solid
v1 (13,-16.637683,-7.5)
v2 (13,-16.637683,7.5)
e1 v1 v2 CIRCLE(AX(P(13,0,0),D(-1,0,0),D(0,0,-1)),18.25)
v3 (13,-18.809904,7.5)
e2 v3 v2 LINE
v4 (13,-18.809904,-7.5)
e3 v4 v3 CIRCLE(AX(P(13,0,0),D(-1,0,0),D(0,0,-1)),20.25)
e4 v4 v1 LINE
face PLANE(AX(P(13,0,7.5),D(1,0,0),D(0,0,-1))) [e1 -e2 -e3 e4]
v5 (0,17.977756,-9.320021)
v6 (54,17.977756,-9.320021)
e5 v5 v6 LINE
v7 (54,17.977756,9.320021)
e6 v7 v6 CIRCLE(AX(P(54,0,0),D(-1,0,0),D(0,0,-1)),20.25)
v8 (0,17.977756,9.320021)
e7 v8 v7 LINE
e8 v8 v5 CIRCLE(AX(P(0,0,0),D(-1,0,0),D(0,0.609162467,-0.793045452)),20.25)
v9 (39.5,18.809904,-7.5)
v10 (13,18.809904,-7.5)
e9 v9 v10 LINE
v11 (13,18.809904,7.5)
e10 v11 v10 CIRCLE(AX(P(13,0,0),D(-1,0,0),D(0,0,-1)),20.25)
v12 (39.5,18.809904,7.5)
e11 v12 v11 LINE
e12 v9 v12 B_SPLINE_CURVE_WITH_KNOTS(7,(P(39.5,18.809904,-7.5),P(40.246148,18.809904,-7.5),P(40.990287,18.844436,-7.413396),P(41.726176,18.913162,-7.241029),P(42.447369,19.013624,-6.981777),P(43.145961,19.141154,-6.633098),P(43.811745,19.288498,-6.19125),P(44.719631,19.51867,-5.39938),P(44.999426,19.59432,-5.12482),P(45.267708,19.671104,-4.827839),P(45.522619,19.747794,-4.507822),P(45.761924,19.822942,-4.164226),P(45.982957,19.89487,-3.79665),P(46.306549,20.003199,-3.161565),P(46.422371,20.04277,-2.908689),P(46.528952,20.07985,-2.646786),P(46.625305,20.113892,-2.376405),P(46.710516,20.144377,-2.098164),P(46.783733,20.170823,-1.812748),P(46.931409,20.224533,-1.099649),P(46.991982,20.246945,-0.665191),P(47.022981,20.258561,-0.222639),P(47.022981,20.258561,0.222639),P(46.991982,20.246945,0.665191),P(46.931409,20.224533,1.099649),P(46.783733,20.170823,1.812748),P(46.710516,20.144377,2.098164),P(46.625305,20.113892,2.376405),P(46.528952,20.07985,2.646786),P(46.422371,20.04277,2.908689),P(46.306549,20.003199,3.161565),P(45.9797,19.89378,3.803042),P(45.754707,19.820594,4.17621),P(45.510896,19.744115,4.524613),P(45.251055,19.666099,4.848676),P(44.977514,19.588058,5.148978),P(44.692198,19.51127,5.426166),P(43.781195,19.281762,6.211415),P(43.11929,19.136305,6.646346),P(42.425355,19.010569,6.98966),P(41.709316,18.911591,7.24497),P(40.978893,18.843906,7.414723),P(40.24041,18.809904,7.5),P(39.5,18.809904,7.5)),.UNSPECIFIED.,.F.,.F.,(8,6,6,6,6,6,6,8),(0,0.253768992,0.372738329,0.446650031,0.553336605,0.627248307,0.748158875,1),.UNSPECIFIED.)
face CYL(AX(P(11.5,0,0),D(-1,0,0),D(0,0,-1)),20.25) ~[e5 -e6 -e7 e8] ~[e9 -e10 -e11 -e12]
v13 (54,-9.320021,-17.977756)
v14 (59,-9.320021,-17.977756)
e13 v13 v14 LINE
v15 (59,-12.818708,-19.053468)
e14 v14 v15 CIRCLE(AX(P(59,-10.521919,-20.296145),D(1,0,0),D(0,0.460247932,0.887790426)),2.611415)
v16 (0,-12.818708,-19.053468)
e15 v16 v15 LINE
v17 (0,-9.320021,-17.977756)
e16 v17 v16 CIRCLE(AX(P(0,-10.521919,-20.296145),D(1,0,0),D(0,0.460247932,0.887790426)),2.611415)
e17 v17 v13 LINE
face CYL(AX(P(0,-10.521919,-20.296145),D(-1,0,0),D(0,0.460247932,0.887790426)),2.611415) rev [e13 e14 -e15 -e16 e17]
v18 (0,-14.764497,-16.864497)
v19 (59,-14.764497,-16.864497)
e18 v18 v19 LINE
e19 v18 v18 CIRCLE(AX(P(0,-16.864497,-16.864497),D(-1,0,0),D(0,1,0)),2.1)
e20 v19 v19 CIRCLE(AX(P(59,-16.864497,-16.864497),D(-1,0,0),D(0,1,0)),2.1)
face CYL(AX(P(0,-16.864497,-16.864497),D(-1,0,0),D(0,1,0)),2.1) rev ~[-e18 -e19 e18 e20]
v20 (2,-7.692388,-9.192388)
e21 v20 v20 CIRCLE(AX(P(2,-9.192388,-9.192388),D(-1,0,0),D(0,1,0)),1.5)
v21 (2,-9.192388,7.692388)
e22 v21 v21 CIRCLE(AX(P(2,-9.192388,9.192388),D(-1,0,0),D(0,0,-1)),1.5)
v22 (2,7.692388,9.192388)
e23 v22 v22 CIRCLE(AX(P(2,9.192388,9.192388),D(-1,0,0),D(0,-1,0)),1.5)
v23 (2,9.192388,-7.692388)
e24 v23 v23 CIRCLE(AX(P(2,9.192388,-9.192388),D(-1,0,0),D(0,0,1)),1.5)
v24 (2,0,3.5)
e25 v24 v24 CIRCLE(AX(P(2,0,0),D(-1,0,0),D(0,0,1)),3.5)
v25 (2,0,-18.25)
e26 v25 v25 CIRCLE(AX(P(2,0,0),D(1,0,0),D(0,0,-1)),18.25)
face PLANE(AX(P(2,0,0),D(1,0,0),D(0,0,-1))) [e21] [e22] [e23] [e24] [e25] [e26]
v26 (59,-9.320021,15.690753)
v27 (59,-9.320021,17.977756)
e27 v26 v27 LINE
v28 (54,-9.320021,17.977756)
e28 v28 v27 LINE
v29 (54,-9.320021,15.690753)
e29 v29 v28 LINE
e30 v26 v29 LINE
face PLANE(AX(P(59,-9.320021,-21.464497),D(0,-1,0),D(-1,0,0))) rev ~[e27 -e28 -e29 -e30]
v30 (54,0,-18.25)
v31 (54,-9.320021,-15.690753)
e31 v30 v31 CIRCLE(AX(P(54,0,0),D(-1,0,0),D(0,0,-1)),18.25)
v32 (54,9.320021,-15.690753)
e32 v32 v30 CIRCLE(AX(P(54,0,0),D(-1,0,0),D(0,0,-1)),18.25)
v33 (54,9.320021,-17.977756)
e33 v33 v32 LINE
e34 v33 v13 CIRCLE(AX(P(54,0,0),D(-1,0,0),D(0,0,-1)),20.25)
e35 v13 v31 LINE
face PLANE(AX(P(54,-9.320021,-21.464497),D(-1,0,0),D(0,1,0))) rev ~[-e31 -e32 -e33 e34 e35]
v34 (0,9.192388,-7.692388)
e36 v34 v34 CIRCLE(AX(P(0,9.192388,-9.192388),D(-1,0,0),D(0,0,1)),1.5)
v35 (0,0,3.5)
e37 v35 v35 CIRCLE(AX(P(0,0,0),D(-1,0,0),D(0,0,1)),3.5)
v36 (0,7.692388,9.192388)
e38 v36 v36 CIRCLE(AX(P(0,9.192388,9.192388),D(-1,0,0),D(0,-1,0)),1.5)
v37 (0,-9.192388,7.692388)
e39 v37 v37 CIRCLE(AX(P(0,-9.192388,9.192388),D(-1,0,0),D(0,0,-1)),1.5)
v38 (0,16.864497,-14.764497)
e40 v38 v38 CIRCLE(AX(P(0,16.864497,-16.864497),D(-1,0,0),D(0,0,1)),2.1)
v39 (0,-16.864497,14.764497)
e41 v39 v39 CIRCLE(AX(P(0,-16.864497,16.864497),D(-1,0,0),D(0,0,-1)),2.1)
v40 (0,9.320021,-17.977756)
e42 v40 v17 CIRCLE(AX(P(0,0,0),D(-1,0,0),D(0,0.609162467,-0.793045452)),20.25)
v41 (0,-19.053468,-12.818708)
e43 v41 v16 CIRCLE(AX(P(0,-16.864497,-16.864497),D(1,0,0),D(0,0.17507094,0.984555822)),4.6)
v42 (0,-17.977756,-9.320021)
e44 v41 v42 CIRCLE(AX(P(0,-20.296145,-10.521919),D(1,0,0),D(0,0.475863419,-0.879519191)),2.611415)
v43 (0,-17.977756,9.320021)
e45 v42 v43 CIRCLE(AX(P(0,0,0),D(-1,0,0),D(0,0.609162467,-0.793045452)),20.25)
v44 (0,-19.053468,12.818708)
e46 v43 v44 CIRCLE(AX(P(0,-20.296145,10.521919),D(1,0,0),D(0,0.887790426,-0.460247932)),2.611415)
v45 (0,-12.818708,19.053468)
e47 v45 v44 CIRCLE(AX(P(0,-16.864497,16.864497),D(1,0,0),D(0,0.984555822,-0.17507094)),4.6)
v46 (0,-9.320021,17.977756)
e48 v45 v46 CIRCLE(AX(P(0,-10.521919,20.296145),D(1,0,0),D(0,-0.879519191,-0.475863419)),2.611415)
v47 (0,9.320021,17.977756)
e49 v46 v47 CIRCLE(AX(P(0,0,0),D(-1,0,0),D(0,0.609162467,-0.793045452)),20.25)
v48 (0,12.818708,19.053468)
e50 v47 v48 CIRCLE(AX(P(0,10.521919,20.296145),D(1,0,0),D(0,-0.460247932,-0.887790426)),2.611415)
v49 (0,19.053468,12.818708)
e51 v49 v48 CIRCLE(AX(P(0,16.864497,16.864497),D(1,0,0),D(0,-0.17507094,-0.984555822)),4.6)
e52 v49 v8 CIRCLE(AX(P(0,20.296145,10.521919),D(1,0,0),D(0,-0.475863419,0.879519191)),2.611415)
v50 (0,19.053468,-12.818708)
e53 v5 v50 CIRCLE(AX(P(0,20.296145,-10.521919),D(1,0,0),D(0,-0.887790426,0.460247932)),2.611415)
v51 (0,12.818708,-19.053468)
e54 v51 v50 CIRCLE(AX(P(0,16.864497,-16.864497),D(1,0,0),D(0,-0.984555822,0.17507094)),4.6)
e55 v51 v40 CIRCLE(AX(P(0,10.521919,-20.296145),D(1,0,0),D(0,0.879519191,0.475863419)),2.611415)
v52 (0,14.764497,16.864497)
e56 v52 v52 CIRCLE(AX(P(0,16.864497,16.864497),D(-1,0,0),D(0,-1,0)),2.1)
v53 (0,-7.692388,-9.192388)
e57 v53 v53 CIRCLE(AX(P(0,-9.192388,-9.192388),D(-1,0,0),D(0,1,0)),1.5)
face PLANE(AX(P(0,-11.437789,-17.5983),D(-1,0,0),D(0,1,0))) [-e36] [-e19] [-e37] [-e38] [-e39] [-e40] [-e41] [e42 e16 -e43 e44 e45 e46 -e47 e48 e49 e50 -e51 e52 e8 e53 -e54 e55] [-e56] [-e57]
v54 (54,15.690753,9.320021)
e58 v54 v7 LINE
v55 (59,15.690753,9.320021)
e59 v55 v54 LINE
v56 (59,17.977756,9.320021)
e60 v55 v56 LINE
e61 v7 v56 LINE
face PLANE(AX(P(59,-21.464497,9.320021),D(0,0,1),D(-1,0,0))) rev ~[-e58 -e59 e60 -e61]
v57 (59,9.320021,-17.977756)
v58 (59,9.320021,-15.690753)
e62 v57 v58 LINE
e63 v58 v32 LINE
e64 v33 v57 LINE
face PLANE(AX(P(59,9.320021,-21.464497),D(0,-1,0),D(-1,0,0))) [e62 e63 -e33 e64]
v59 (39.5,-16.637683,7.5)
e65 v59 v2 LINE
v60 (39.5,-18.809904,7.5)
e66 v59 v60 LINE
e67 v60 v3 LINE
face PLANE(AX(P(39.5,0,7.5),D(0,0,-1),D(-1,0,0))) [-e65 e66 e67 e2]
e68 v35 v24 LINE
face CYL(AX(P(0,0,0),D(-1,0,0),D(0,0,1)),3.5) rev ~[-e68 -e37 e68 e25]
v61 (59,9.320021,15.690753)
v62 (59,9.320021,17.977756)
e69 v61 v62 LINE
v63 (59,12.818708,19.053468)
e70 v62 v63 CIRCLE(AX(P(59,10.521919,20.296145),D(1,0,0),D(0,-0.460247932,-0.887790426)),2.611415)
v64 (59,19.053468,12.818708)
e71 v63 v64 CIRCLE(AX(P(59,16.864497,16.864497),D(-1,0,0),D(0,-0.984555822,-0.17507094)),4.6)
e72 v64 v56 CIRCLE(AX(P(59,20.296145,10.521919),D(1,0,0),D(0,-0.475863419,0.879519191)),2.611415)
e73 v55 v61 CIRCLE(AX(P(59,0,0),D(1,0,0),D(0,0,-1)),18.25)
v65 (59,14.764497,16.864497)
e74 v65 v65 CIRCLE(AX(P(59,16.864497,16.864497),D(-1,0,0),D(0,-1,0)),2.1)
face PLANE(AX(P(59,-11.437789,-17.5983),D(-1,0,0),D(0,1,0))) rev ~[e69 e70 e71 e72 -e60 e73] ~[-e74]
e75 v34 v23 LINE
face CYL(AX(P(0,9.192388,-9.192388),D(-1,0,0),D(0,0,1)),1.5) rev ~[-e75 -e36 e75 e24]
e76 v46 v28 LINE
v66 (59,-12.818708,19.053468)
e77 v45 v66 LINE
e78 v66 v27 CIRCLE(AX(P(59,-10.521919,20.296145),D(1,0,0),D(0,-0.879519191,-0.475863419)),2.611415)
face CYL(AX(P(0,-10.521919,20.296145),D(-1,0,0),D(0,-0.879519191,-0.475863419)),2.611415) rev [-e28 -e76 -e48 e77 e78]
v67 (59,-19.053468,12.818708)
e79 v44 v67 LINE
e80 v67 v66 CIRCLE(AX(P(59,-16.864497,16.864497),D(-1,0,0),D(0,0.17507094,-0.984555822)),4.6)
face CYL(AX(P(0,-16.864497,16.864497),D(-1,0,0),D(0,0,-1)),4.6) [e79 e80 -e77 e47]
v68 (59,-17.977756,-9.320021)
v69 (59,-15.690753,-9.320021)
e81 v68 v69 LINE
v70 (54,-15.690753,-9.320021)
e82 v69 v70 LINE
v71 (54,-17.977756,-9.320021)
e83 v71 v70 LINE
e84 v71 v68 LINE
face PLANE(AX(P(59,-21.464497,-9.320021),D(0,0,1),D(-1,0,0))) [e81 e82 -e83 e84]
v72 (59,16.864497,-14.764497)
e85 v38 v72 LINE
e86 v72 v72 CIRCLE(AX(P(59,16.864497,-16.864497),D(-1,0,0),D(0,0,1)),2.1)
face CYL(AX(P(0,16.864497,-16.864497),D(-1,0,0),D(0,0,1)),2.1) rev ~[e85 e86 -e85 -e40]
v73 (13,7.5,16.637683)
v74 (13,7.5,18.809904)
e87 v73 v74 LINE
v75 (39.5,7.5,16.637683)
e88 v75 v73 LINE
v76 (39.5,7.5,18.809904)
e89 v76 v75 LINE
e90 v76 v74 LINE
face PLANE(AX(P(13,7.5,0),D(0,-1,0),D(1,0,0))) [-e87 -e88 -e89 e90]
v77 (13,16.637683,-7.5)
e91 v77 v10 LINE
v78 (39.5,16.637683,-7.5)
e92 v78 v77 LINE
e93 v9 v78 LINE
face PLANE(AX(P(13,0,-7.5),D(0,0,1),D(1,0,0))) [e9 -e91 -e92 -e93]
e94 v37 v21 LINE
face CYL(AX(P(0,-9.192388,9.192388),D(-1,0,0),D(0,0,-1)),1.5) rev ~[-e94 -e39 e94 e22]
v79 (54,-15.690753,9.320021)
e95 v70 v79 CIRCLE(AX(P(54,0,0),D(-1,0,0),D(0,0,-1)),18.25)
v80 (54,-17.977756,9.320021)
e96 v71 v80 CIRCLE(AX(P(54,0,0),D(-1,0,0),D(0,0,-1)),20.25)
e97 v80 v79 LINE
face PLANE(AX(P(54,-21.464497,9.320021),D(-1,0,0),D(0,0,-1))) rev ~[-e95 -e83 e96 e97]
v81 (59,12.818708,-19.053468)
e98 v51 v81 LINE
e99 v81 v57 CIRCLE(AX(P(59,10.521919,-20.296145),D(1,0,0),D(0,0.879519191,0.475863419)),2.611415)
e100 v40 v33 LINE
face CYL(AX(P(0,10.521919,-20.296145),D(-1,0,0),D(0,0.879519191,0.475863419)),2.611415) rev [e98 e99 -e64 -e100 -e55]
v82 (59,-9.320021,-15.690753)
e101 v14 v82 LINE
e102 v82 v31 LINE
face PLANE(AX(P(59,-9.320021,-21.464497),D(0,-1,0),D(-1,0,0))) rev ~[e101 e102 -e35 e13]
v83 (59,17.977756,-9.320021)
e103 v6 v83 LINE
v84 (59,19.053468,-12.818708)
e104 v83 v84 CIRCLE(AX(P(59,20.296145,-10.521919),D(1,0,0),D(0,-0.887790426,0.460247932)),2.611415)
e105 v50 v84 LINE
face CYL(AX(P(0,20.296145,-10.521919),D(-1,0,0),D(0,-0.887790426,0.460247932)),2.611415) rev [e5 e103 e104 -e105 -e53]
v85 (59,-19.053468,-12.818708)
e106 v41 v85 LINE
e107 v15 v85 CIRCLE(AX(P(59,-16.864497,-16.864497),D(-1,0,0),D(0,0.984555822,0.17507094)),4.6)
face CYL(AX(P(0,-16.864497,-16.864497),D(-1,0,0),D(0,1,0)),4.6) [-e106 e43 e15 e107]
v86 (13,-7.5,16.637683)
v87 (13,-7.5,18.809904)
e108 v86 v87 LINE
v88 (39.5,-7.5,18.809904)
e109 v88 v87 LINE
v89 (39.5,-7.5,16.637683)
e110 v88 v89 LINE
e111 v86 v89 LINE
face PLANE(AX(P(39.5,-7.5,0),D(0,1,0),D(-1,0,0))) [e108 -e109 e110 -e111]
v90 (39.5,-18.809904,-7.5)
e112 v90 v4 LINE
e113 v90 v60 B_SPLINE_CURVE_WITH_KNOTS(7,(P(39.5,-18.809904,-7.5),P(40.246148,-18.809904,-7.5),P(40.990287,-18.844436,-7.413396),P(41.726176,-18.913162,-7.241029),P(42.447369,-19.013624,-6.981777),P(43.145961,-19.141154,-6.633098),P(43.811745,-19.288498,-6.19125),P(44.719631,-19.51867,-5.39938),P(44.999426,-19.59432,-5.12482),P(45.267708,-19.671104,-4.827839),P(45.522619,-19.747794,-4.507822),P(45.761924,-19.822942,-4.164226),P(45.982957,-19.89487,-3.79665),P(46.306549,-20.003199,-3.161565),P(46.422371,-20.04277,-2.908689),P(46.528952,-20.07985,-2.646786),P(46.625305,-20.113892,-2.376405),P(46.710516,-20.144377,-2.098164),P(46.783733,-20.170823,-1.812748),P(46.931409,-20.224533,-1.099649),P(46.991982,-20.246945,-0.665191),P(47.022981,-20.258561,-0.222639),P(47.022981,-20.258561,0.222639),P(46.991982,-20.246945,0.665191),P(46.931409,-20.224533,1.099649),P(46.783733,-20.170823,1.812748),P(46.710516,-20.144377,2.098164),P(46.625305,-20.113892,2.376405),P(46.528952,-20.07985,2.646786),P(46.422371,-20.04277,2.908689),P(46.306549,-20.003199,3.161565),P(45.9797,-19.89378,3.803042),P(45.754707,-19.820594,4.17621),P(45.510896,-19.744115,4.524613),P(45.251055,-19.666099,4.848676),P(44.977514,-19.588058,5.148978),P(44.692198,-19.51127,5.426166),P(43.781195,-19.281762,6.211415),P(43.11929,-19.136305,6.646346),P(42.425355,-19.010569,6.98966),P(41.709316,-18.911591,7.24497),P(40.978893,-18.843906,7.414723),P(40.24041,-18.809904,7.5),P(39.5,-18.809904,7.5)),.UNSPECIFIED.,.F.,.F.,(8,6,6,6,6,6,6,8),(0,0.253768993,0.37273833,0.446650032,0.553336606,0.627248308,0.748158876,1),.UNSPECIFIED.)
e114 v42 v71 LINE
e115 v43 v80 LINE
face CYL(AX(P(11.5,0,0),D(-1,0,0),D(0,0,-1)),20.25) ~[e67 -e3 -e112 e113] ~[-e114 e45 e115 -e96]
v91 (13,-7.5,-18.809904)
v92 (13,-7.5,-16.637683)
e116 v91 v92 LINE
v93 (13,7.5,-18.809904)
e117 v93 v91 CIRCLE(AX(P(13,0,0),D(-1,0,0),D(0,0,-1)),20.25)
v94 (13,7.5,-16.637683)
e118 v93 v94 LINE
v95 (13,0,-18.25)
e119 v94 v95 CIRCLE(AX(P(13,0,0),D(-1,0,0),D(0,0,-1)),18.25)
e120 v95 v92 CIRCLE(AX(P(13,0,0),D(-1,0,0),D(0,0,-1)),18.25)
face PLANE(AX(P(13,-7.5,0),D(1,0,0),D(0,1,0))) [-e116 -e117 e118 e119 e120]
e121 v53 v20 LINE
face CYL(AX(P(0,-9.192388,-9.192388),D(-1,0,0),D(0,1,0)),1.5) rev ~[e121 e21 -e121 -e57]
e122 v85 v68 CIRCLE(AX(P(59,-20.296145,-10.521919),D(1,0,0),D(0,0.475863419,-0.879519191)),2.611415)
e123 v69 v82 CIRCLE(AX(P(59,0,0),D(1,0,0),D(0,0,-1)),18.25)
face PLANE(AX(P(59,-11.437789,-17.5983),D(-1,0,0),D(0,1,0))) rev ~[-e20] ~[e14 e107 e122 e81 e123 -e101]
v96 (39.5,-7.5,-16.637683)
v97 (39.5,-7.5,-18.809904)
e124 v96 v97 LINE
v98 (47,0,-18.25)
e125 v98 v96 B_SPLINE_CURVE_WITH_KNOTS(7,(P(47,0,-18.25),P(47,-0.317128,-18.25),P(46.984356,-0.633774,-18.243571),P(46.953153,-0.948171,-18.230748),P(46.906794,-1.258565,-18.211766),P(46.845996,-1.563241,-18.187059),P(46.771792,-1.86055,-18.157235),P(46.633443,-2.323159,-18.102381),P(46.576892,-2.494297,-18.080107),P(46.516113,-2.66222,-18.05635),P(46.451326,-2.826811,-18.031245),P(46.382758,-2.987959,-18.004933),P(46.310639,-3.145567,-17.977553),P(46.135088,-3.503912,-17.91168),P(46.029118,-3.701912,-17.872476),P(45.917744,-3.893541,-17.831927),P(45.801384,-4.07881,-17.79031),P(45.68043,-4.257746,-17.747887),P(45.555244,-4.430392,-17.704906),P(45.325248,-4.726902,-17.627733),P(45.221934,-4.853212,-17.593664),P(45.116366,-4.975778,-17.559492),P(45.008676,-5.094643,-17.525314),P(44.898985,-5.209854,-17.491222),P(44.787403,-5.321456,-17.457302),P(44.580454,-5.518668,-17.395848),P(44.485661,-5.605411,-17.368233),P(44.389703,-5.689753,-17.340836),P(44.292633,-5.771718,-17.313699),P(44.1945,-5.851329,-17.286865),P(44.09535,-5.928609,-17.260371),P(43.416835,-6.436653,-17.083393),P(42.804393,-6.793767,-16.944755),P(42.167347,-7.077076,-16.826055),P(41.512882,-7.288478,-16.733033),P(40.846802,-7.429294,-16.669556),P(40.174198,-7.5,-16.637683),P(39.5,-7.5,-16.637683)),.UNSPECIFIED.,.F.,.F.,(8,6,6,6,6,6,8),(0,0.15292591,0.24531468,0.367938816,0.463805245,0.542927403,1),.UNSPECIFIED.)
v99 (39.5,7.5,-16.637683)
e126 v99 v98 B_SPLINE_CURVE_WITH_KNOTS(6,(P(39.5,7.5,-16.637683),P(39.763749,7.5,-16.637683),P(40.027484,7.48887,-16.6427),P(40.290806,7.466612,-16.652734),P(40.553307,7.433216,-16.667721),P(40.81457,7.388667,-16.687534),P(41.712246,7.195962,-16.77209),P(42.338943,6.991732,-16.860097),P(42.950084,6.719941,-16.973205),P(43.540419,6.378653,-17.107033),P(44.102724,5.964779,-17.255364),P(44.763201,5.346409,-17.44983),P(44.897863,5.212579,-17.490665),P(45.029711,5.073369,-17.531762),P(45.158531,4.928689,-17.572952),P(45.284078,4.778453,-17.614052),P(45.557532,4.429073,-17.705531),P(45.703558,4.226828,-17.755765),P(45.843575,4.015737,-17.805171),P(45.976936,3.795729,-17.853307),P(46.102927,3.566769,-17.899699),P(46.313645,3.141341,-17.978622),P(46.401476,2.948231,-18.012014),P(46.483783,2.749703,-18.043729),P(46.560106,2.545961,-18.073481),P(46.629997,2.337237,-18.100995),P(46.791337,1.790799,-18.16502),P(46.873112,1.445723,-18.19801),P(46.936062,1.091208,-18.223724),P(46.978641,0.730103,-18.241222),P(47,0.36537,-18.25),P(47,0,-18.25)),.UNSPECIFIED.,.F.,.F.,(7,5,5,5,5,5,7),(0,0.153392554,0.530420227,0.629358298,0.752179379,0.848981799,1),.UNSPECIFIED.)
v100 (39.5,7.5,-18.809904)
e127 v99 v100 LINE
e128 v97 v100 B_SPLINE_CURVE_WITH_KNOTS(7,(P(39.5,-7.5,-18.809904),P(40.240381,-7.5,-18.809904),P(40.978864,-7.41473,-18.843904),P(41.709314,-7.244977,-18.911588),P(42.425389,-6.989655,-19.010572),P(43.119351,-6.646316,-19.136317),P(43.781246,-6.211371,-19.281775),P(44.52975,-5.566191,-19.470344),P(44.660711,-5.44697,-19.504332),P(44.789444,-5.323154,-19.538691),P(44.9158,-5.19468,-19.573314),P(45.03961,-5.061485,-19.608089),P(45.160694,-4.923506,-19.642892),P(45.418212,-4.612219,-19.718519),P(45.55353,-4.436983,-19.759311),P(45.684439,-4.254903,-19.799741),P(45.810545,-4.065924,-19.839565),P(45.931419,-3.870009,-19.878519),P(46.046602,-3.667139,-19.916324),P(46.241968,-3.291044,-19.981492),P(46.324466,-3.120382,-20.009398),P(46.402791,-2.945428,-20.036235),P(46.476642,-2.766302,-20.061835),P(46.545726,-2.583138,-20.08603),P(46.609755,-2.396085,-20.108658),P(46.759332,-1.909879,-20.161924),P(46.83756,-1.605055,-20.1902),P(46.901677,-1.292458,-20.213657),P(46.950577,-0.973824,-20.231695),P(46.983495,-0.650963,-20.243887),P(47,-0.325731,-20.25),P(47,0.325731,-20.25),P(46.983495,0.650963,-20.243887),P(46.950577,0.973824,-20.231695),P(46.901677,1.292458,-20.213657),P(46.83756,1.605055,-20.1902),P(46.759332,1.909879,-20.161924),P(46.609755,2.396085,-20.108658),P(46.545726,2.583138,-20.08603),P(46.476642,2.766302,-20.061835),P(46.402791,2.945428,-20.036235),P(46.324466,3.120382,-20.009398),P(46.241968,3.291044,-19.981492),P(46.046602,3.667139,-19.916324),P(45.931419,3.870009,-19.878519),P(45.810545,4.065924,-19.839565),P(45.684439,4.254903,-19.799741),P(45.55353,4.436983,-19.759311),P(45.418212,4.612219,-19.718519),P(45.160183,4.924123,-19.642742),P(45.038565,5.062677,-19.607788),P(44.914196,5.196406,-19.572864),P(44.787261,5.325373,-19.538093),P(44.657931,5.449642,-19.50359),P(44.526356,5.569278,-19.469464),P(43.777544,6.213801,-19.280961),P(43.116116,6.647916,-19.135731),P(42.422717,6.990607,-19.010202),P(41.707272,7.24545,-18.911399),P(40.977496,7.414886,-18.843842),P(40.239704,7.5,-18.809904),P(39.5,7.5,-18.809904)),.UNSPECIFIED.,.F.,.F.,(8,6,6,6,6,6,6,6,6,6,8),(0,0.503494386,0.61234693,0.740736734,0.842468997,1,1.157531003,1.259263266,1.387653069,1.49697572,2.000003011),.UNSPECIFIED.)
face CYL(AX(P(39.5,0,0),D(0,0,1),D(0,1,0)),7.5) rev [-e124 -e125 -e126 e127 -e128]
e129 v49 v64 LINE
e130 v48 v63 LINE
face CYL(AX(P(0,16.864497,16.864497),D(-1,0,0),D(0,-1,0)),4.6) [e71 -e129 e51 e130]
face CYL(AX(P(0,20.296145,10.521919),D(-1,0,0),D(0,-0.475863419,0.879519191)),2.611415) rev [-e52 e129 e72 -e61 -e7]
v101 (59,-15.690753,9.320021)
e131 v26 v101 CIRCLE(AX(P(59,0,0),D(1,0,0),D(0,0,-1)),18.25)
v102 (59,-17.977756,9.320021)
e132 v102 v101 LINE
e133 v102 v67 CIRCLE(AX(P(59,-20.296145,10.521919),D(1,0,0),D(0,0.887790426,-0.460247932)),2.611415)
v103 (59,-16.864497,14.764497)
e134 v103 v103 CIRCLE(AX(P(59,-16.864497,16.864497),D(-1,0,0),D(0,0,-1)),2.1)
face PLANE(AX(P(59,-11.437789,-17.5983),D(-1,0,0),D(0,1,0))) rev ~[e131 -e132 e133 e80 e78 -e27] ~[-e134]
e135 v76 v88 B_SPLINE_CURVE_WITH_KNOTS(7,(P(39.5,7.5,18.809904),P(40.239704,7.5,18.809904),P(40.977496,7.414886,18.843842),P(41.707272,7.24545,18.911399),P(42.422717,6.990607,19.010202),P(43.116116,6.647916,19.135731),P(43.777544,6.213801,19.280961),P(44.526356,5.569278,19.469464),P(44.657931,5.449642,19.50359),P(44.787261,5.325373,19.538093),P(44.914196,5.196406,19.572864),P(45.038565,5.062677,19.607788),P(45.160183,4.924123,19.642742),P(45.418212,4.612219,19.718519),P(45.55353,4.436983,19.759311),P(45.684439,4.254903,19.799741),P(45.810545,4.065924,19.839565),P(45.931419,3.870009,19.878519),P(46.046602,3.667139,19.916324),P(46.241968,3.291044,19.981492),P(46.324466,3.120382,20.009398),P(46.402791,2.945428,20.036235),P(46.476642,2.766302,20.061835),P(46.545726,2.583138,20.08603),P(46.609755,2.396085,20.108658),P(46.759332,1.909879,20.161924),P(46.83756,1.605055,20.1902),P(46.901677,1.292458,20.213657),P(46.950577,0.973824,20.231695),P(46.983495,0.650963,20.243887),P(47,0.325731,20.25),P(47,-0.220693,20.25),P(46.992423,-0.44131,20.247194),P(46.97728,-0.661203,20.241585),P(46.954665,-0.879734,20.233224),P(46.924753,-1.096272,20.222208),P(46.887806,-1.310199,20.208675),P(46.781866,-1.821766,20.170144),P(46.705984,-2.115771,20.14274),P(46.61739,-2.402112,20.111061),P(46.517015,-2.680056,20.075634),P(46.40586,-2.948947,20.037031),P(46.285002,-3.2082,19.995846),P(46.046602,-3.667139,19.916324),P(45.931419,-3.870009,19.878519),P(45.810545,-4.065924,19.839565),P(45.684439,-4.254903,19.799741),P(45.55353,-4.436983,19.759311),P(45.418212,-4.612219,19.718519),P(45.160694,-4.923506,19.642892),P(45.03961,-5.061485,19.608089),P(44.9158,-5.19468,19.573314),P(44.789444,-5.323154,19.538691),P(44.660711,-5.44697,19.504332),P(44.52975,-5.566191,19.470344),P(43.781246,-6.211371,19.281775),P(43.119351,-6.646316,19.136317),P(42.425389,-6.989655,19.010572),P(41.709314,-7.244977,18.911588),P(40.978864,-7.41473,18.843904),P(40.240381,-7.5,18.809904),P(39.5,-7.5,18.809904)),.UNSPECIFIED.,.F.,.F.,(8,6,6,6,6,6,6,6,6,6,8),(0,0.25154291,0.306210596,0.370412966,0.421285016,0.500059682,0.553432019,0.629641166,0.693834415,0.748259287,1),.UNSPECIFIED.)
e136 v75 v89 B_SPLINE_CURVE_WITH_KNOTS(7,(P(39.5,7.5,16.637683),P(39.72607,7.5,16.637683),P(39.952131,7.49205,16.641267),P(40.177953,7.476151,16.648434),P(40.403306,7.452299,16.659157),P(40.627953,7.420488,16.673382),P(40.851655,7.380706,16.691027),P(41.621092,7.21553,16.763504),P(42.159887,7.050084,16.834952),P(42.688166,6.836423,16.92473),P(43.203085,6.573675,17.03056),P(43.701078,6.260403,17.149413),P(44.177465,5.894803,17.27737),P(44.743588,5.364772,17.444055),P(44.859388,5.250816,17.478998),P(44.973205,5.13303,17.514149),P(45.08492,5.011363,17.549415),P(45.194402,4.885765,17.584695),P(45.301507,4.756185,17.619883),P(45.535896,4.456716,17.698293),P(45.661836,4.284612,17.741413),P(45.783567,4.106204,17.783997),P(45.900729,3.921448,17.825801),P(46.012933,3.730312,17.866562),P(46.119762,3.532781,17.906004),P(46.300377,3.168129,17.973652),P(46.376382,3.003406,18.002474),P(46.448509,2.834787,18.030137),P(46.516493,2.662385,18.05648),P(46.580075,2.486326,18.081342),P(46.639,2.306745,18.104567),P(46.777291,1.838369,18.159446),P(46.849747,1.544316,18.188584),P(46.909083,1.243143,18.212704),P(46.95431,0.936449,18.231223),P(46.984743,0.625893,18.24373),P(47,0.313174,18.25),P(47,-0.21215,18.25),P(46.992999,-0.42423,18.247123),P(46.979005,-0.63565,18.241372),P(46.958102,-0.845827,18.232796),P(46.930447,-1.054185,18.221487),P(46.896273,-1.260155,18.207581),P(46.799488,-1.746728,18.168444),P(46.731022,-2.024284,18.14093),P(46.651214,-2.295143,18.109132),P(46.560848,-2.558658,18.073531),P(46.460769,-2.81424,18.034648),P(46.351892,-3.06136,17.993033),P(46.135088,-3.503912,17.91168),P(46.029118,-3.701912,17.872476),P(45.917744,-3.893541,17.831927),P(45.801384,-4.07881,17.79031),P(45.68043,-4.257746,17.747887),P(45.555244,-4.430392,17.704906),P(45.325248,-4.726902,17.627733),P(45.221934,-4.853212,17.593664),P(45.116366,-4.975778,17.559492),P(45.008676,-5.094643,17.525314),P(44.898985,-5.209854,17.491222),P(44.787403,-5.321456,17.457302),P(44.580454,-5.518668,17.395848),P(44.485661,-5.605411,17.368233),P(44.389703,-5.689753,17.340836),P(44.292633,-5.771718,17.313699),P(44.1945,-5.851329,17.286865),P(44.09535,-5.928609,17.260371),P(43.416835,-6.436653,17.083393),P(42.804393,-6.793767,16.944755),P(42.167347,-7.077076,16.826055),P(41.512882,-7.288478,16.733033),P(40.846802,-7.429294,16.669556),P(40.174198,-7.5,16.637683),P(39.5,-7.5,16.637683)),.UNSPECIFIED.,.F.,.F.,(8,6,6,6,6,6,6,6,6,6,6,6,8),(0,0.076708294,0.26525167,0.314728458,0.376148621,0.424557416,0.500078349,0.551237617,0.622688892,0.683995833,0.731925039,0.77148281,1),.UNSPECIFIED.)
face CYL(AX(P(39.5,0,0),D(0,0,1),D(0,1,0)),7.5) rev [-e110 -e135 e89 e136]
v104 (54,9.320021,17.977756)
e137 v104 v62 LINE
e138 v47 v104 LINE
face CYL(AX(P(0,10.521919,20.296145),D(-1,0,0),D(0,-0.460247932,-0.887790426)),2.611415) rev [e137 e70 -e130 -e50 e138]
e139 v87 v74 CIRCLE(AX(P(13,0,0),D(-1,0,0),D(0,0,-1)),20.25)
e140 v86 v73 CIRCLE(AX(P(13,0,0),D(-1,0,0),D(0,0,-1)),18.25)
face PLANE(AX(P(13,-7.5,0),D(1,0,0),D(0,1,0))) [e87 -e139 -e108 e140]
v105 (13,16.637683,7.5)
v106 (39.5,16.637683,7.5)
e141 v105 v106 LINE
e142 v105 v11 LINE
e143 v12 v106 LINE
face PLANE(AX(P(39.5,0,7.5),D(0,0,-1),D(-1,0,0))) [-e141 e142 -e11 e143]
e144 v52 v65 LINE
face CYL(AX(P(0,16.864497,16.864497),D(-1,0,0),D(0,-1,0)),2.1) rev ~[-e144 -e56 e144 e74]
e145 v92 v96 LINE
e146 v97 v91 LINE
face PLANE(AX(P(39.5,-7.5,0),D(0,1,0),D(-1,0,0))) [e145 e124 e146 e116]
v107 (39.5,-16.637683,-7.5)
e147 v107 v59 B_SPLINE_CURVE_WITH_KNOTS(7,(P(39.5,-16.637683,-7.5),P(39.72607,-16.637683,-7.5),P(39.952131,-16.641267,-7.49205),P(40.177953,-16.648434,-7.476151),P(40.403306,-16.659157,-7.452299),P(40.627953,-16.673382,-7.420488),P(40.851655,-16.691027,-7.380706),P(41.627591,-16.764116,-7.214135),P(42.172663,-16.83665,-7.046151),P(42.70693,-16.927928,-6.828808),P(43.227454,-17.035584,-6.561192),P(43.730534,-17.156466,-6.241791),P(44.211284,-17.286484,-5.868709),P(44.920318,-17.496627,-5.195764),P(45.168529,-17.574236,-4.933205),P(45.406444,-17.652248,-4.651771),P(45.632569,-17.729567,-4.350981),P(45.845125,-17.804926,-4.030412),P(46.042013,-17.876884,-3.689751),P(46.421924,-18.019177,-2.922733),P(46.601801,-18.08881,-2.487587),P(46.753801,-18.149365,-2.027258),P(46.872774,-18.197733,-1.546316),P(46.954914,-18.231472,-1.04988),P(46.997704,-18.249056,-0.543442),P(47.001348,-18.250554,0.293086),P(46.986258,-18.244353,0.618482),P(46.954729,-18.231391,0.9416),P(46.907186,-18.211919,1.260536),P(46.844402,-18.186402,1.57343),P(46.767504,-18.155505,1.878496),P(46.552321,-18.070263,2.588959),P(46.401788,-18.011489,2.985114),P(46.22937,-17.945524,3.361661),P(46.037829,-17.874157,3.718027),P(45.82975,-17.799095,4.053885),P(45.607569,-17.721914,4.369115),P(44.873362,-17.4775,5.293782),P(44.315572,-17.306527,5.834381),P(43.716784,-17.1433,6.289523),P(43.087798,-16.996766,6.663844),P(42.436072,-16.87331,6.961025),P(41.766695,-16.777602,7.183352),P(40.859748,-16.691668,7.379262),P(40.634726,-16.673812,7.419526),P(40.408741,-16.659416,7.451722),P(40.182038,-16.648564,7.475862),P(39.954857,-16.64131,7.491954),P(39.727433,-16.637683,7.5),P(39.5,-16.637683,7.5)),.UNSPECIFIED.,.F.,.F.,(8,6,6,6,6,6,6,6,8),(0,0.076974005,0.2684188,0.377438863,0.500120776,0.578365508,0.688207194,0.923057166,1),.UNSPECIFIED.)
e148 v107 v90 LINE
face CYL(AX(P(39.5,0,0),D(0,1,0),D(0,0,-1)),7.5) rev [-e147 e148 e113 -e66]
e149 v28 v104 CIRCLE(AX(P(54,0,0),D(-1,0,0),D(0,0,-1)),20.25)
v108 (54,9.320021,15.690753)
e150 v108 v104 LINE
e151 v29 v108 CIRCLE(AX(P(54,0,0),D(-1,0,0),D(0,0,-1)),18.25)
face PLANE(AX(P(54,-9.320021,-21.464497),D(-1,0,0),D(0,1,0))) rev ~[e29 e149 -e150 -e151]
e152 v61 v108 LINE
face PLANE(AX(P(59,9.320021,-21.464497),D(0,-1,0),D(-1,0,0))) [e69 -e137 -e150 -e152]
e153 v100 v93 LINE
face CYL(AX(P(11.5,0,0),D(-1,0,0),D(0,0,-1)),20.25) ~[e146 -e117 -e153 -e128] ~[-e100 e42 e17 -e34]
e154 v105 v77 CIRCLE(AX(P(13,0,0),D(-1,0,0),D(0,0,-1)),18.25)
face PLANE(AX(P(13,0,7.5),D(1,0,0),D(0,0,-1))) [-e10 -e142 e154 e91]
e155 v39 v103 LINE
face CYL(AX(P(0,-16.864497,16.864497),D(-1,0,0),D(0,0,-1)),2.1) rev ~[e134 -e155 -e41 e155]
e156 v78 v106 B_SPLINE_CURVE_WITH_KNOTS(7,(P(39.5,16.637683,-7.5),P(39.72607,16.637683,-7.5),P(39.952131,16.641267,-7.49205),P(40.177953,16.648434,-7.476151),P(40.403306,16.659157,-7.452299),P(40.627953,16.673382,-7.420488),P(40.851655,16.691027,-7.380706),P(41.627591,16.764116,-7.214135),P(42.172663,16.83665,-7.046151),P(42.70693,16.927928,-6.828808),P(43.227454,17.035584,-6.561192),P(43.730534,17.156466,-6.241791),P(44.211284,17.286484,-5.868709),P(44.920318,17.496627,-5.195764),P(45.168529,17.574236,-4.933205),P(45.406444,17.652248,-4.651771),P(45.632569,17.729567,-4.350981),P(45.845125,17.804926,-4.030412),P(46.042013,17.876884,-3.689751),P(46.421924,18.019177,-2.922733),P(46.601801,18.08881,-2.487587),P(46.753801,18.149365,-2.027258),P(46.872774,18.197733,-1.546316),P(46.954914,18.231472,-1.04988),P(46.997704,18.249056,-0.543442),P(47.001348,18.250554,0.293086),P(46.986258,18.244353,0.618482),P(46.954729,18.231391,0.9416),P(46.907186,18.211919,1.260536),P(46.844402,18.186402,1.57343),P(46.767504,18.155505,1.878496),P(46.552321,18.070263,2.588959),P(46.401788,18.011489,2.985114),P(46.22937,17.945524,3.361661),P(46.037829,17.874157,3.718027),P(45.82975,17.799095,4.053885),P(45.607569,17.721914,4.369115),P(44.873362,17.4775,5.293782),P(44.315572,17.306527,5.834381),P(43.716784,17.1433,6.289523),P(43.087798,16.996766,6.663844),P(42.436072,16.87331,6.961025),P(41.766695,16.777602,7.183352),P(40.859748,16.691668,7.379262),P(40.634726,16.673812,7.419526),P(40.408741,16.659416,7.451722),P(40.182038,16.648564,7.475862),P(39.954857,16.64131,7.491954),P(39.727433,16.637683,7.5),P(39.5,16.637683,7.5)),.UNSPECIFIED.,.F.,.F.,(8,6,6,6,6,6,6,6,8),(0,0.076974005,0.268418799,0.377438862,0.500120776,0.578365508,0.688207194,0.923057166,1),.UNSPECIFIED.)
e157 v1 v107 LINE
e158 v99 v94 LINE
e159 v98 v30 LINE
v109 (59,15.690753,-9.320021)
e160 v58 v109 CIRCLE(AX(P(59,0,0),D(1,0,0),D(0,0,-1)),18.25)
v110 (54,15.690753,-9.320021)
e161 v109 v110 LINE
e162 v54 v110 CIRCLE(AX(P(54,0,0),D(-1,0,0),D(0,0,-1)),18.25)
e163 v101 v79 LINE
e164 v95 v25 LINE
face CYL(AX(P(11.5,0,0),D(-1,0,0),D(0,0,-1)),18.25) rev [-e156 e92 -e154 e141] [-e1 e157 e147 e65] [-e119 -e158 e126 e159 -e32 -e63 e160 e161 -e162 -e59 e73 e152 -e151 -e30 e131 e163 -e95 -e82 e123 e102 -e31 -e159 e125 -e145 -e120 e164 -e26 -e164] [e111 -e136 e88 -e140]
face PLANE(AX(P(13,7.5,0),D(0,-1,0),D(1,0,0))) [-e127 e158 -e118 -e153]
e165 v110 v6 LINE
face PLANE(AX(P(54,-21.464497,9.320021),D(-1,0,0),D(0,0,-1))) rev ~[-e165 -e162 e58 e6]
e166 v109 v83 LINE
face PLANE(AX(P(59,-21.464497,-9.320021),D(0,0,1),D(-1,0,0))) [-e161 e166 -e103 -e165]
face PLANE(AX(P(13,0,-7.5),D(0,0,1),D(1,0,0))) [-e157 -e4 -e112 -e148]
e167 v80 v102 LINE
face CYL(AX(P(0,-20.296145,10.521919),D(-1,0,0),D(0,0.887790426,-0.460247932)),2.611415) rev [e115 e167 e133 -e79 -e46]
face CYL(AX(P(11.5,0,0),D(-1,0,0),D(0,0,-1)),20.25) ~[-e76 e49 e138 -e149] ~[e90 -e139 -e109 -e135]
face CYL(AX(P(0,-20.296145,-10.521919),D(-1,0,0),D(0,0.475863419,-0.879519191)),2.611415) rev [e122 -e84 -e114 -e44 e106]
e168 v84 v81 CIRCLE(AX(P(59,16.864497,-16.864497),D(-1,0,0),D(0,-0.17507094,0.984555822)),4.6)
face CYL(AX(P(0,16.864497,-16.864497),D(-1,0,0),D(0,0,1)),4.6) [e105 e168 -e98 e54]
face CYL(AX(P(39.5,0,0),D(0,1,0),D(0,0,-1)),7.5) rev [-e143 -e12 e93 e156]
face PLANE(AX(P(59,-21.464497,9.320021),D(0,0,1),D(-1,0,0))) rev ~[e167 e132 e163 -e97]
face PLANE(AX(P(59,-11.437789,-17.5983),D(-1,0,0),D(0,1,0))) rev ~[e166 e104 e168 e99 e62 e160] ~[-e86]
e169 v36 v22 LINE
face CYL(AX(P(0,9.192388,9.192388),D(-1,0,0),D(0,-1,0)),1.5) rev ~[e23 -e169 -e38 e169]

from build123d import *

# Parameters (mm, degrees)
SKETCH_1_R               = 20.25
EXTRUDE_1_DEPTH          = 2
SKETCH_2_R               = 3.5
CUT_EXTRUDE_1_DEPTH      = 3
SKETCH_3_R               = 20.25
SKETCH_3_R_2             = 10.25
EXTRUDE_2_DEPTH          = 4.1
SKETCH_5_R               = 20.25
SKETCH_5_R_2             = 16.25
EXTRUDE_3_DEPTH          = 5.4
SKETCH_6_R               = 20.25
SKETCH_6_R_2             = 18.25
EXTRUDE_4_DEPTH          = 47.5
SKETCH_7_R               = 1.5
CUT_EXTRUDE_2_DEPTH      = 60
PATTERN_CIRCULAR_1_COUNT = 4
FILLET_1_R               = 0.5
SKETCH_9_R               = 4.6
SKETCH_9_R_2             = 2.1
EXTRUDE_6_DEPTH          = 59
EXTRUDE_7_DEPTH          = 59
PATTERN_CIRCULAR_3_COUNT = 4
CUT_EXTRUDE_3_DEPTH      = 22.464496731
PATTERN_CIRCULAR_4_COUNT = 2
PATTERN_CIRCULAR_4_ANGLE = 270
SKETCH_22_R              = 18.25
CUT_EXTRUDE_9_DEPTH      = 20
SKETCH_23_W              = 5
SKETCH_23_H              = 18.640041254
CUT_EXTRUDE_10_DEPTH     = 43.928993463
PATTERN_CIRCULAR_5_COUNT = 2
PATTERN_CIRCULAR_5_ANGLE = 270


with BuildPart() as part:
    # Эскиз1 → Бобышка-Вытянуть1 (new body)
    with BuildSketch(Plane(origin=(0, 0, 0), x_dir=(0, 0, -1), z_dir=(1, 0, 0))):
        Circle(SKETCH_1_R)
    extrude(amount=EXTRUDE_1_DEPTH)

    # Эскиз2 → Вырез-Вытянуть1 (cut, through all)
    with BuildSketch(Plane.ZY):
        Circle(SKETCH_2_R)
    extrude(amount=-CUT_EXTRUDE_1_DEPTH, mode=Mode.SUBTRACT)

    # Эскиз3 → Бобышка-Вытянуть2 (add)
    with BuildSketch(Plane(origin=(2, 0, 0), x_dir=(0, 0, -1), z_dir=(1, 0, 0))):
        Circle(SKETCH_3_R)
        Circle(SKETCH_3_R_2, mode=Mode.SUBTRACT)
    extrude(amount=EXTRUDE_2_DEPTH)

    # Эскиз5 → Бобышка-Вытянуть3 (add)
    with BuildSketch(Plane(origin=(6.1, 0, 0), x_dir=(0, 0, -1), z_dir=(1, 0, 0))):
        Circle(SKETCH_5_R)
        Circle(SKETCH_5_R_2, mode=Mode.SUBTRACT)
    extrude(amount=EXTRUDE_3_DEPTH)

    # Эскиз6 → Бобышка-Вытянуть4 (add)
    with BuildSketch(Plane(origin=(11.5, 0, 0), x_dir=(0, 0, -1), z_dir=(1, 0, 0))):
        Circle(SKETCH_6_R)
        Circle(SKETCH_6_R_2, mode=Mode.SUBTRACT)
    extrude(amount=EXTRUDE_4_DEPTH)

    # Эскиз7 → Вырез-Вытянуть2 (cut, through all)
    with BuildSketch(Plane.ZY):
        with Locations((-9.192388155, 9.192388155)):
            Circle(SKETCH_7_R)
    cut_extrude_2 = extrude(amount=-CUT_EXTRUDE_2_DEPTH, mode=Mode.SUBTRACT)

    # Круговой массив1: Вырез-Вытянуть2 ×4 about axis
    pattern_circular_1_axis = Axis((0, 0, 0), (1, 0, 0))
    for i in range(1, PATTERN_CIRCULAR_1_COUNT):
        add(cut_extrude_2.rotate(pattern_circular_1_axis, i * 360 / PATTERN_CIRCULAR_1_COUNT), mode=Mode.SUBTRACT)

    # Скругление1
    fillet_1_edges = [part.edges().sort_by_distance(p)[0] for p in [
        (2, 0, 10.25),
        (6.1, 0, 10.25),
        (6.1, 0, 16.25),
        (11.5, 0, 16.25),
        (11.5, 0, 18.25),
    ]]
    fillet(fillet_1_edges, radius=FILLET_1_R)

    # Эскиз9 → Бобышка-Вытянуть6 (add)
    with BuildSketch(Plane.ZY):
        with Locations((-16.864496731, 16.864496731)):
            Circle(SKETCH_9_R)
        with Locations((-16.864496731, 16.864496731)):
            Circle(SKETCH_9_R_2, mode=Mode.SUBTRACT)
    extrude_6 = extrude(amount=-EXTRUDE_6_DEPTH)

    # Эскиз10 → Бобышка-Вытянуть7 (add)
    with BuildSketch(Plane.ZY):
        with BuildLine():
            ThreePointArc((-9.320020627, 17.977756131), (-11.289373131, 17.800047957), (-12.818708454, 19.053468456))
            ThreePointArc((-12.818708454, 19.053468456), (-12.323239372, 17.597287013), (-12.335539952, 16.059170405))
            ThreePointArc((-12.335539952, 16.059170405), (-10.870191755, 17.085123096), (-9.320020627, 17.977756131))
        make_face()
        with BuildLine():
            ThreePointArc((-16.059170405, 12.335539952), (-17.597287013, 12.323239372), (-19.053468456, 12.818708454))
            ThreePointArc((-19.053468456, 12.818708454), (-17.800047957, 11.289373131), (-17.977756131, 9.320020627))
            ThreePointArc((-17.977756131, 9.320020627), (-17.085123096, 10.870191755), (-16.059170405, 12.335539952))
        make_face()
    extrude_7 = extrude(amount=-EXTRUDE_7_DEPTH)

    # Круговой массив3: Бобышка-Вытянуть6, Бобышка-Вытянуть7 ×4 about axis
    pattern_circular_3_axis = Axis((0, 0, 0), (1, 0, 0))
    for i in range(1, PATTERN_CIRCULAR_3_COUNT):
        add(extrude_6.rotate(pattern_circular_3_axis, i * 360 / PATTERN_CIRCULAR_3_COUNT))
        add(extrude_7.rotate(pattern_circular_3_axis, i * 360 / PATTERN_CIRCULAR_3_COUNT))

    # Эскиз11 → Вырез-Вытянуть3 (cut, symmetric)
    with BuildSketch(Plane(origin=(0, 0, 0), x_dir=(1, 0, 0), z_dir=(0, 1, 0))):
        with BuildLine():
            Line((13, 7.5), (39.5, 7.5))
            ThreePointArc((39.5, 7.5), (47, 0), (39.5, -7.5))
            Line((39.5, -7.5), (13, -7.5))
            Line((13, -7.5), (13, 7.5))
        make_face()
    cut_extrude_3 = extrude(amount=CUT_EXTRUDE_3_DEPTH, both=True, mode=Mode.SUBTRACT)

    # Круговой массив4: Вырез-Вытянуть3 ×2 about axis
    pattern_circular_4_axis = Axis((2, 0, 0), (-1, 0, 0))
    for i in range(1, PATTERN_CIRCULAR_4_COUNT):
        add(cut_extrude_3.rotate(pattern_circular_4_axis, i * PATTERN_CIRCULAR_4_ANGLE / (PATTERN_CIRCULAR_4_COUNT - 1)), mode=Mode.SUBTRACT)

    # Эскиз22 → Вырез-Вытянуть9 (cut)
    with BuildSketch(Plane(origin=(2, 0, 0), x_dir=(0, 0, -1), z_dir=(1, 0, 0))):
        Circle(SKETCH_22_R)
    extrude(amount=CUT_EXTRUDE_9_DEPTH, mode=Mode.SUBTRACT)

    # Эскиз23 → Вырез-Вытянуть10 (cut, through all)
    with BuildSketch(Plane(origin=(0, -21.464496731, 0), x_dir=(-1, 0, 0), z_dir=(0, -1, 0))):
        with Locations((-56.5, 0)):
            Rectangle(SKETCH_23_W, SKETCH_23_H)
    cut_extrude_10 = extrude(amount=-CUT_EXTRUDE_10_DEPTH, mode=Mode.SUBTRACT)

    # Круговой массив5: Вырез-Вытянуть10 ×2 about axis
    pattern_circular_5_axis = Axis((2, 0, 0), (-1, 0, 0))
    for i in range(1, PATTERN_CIRCULAR_5_COUNT):
        add(cut_extrude_10.rotate(pattern_circular_5_axis, i * PATTERN_CIRCULAR_5_ANGLE / (PATTERN_CIRCULAR_5_COUNT - 1)), mode=Mode.SUBTRACT)


solid = part.part
